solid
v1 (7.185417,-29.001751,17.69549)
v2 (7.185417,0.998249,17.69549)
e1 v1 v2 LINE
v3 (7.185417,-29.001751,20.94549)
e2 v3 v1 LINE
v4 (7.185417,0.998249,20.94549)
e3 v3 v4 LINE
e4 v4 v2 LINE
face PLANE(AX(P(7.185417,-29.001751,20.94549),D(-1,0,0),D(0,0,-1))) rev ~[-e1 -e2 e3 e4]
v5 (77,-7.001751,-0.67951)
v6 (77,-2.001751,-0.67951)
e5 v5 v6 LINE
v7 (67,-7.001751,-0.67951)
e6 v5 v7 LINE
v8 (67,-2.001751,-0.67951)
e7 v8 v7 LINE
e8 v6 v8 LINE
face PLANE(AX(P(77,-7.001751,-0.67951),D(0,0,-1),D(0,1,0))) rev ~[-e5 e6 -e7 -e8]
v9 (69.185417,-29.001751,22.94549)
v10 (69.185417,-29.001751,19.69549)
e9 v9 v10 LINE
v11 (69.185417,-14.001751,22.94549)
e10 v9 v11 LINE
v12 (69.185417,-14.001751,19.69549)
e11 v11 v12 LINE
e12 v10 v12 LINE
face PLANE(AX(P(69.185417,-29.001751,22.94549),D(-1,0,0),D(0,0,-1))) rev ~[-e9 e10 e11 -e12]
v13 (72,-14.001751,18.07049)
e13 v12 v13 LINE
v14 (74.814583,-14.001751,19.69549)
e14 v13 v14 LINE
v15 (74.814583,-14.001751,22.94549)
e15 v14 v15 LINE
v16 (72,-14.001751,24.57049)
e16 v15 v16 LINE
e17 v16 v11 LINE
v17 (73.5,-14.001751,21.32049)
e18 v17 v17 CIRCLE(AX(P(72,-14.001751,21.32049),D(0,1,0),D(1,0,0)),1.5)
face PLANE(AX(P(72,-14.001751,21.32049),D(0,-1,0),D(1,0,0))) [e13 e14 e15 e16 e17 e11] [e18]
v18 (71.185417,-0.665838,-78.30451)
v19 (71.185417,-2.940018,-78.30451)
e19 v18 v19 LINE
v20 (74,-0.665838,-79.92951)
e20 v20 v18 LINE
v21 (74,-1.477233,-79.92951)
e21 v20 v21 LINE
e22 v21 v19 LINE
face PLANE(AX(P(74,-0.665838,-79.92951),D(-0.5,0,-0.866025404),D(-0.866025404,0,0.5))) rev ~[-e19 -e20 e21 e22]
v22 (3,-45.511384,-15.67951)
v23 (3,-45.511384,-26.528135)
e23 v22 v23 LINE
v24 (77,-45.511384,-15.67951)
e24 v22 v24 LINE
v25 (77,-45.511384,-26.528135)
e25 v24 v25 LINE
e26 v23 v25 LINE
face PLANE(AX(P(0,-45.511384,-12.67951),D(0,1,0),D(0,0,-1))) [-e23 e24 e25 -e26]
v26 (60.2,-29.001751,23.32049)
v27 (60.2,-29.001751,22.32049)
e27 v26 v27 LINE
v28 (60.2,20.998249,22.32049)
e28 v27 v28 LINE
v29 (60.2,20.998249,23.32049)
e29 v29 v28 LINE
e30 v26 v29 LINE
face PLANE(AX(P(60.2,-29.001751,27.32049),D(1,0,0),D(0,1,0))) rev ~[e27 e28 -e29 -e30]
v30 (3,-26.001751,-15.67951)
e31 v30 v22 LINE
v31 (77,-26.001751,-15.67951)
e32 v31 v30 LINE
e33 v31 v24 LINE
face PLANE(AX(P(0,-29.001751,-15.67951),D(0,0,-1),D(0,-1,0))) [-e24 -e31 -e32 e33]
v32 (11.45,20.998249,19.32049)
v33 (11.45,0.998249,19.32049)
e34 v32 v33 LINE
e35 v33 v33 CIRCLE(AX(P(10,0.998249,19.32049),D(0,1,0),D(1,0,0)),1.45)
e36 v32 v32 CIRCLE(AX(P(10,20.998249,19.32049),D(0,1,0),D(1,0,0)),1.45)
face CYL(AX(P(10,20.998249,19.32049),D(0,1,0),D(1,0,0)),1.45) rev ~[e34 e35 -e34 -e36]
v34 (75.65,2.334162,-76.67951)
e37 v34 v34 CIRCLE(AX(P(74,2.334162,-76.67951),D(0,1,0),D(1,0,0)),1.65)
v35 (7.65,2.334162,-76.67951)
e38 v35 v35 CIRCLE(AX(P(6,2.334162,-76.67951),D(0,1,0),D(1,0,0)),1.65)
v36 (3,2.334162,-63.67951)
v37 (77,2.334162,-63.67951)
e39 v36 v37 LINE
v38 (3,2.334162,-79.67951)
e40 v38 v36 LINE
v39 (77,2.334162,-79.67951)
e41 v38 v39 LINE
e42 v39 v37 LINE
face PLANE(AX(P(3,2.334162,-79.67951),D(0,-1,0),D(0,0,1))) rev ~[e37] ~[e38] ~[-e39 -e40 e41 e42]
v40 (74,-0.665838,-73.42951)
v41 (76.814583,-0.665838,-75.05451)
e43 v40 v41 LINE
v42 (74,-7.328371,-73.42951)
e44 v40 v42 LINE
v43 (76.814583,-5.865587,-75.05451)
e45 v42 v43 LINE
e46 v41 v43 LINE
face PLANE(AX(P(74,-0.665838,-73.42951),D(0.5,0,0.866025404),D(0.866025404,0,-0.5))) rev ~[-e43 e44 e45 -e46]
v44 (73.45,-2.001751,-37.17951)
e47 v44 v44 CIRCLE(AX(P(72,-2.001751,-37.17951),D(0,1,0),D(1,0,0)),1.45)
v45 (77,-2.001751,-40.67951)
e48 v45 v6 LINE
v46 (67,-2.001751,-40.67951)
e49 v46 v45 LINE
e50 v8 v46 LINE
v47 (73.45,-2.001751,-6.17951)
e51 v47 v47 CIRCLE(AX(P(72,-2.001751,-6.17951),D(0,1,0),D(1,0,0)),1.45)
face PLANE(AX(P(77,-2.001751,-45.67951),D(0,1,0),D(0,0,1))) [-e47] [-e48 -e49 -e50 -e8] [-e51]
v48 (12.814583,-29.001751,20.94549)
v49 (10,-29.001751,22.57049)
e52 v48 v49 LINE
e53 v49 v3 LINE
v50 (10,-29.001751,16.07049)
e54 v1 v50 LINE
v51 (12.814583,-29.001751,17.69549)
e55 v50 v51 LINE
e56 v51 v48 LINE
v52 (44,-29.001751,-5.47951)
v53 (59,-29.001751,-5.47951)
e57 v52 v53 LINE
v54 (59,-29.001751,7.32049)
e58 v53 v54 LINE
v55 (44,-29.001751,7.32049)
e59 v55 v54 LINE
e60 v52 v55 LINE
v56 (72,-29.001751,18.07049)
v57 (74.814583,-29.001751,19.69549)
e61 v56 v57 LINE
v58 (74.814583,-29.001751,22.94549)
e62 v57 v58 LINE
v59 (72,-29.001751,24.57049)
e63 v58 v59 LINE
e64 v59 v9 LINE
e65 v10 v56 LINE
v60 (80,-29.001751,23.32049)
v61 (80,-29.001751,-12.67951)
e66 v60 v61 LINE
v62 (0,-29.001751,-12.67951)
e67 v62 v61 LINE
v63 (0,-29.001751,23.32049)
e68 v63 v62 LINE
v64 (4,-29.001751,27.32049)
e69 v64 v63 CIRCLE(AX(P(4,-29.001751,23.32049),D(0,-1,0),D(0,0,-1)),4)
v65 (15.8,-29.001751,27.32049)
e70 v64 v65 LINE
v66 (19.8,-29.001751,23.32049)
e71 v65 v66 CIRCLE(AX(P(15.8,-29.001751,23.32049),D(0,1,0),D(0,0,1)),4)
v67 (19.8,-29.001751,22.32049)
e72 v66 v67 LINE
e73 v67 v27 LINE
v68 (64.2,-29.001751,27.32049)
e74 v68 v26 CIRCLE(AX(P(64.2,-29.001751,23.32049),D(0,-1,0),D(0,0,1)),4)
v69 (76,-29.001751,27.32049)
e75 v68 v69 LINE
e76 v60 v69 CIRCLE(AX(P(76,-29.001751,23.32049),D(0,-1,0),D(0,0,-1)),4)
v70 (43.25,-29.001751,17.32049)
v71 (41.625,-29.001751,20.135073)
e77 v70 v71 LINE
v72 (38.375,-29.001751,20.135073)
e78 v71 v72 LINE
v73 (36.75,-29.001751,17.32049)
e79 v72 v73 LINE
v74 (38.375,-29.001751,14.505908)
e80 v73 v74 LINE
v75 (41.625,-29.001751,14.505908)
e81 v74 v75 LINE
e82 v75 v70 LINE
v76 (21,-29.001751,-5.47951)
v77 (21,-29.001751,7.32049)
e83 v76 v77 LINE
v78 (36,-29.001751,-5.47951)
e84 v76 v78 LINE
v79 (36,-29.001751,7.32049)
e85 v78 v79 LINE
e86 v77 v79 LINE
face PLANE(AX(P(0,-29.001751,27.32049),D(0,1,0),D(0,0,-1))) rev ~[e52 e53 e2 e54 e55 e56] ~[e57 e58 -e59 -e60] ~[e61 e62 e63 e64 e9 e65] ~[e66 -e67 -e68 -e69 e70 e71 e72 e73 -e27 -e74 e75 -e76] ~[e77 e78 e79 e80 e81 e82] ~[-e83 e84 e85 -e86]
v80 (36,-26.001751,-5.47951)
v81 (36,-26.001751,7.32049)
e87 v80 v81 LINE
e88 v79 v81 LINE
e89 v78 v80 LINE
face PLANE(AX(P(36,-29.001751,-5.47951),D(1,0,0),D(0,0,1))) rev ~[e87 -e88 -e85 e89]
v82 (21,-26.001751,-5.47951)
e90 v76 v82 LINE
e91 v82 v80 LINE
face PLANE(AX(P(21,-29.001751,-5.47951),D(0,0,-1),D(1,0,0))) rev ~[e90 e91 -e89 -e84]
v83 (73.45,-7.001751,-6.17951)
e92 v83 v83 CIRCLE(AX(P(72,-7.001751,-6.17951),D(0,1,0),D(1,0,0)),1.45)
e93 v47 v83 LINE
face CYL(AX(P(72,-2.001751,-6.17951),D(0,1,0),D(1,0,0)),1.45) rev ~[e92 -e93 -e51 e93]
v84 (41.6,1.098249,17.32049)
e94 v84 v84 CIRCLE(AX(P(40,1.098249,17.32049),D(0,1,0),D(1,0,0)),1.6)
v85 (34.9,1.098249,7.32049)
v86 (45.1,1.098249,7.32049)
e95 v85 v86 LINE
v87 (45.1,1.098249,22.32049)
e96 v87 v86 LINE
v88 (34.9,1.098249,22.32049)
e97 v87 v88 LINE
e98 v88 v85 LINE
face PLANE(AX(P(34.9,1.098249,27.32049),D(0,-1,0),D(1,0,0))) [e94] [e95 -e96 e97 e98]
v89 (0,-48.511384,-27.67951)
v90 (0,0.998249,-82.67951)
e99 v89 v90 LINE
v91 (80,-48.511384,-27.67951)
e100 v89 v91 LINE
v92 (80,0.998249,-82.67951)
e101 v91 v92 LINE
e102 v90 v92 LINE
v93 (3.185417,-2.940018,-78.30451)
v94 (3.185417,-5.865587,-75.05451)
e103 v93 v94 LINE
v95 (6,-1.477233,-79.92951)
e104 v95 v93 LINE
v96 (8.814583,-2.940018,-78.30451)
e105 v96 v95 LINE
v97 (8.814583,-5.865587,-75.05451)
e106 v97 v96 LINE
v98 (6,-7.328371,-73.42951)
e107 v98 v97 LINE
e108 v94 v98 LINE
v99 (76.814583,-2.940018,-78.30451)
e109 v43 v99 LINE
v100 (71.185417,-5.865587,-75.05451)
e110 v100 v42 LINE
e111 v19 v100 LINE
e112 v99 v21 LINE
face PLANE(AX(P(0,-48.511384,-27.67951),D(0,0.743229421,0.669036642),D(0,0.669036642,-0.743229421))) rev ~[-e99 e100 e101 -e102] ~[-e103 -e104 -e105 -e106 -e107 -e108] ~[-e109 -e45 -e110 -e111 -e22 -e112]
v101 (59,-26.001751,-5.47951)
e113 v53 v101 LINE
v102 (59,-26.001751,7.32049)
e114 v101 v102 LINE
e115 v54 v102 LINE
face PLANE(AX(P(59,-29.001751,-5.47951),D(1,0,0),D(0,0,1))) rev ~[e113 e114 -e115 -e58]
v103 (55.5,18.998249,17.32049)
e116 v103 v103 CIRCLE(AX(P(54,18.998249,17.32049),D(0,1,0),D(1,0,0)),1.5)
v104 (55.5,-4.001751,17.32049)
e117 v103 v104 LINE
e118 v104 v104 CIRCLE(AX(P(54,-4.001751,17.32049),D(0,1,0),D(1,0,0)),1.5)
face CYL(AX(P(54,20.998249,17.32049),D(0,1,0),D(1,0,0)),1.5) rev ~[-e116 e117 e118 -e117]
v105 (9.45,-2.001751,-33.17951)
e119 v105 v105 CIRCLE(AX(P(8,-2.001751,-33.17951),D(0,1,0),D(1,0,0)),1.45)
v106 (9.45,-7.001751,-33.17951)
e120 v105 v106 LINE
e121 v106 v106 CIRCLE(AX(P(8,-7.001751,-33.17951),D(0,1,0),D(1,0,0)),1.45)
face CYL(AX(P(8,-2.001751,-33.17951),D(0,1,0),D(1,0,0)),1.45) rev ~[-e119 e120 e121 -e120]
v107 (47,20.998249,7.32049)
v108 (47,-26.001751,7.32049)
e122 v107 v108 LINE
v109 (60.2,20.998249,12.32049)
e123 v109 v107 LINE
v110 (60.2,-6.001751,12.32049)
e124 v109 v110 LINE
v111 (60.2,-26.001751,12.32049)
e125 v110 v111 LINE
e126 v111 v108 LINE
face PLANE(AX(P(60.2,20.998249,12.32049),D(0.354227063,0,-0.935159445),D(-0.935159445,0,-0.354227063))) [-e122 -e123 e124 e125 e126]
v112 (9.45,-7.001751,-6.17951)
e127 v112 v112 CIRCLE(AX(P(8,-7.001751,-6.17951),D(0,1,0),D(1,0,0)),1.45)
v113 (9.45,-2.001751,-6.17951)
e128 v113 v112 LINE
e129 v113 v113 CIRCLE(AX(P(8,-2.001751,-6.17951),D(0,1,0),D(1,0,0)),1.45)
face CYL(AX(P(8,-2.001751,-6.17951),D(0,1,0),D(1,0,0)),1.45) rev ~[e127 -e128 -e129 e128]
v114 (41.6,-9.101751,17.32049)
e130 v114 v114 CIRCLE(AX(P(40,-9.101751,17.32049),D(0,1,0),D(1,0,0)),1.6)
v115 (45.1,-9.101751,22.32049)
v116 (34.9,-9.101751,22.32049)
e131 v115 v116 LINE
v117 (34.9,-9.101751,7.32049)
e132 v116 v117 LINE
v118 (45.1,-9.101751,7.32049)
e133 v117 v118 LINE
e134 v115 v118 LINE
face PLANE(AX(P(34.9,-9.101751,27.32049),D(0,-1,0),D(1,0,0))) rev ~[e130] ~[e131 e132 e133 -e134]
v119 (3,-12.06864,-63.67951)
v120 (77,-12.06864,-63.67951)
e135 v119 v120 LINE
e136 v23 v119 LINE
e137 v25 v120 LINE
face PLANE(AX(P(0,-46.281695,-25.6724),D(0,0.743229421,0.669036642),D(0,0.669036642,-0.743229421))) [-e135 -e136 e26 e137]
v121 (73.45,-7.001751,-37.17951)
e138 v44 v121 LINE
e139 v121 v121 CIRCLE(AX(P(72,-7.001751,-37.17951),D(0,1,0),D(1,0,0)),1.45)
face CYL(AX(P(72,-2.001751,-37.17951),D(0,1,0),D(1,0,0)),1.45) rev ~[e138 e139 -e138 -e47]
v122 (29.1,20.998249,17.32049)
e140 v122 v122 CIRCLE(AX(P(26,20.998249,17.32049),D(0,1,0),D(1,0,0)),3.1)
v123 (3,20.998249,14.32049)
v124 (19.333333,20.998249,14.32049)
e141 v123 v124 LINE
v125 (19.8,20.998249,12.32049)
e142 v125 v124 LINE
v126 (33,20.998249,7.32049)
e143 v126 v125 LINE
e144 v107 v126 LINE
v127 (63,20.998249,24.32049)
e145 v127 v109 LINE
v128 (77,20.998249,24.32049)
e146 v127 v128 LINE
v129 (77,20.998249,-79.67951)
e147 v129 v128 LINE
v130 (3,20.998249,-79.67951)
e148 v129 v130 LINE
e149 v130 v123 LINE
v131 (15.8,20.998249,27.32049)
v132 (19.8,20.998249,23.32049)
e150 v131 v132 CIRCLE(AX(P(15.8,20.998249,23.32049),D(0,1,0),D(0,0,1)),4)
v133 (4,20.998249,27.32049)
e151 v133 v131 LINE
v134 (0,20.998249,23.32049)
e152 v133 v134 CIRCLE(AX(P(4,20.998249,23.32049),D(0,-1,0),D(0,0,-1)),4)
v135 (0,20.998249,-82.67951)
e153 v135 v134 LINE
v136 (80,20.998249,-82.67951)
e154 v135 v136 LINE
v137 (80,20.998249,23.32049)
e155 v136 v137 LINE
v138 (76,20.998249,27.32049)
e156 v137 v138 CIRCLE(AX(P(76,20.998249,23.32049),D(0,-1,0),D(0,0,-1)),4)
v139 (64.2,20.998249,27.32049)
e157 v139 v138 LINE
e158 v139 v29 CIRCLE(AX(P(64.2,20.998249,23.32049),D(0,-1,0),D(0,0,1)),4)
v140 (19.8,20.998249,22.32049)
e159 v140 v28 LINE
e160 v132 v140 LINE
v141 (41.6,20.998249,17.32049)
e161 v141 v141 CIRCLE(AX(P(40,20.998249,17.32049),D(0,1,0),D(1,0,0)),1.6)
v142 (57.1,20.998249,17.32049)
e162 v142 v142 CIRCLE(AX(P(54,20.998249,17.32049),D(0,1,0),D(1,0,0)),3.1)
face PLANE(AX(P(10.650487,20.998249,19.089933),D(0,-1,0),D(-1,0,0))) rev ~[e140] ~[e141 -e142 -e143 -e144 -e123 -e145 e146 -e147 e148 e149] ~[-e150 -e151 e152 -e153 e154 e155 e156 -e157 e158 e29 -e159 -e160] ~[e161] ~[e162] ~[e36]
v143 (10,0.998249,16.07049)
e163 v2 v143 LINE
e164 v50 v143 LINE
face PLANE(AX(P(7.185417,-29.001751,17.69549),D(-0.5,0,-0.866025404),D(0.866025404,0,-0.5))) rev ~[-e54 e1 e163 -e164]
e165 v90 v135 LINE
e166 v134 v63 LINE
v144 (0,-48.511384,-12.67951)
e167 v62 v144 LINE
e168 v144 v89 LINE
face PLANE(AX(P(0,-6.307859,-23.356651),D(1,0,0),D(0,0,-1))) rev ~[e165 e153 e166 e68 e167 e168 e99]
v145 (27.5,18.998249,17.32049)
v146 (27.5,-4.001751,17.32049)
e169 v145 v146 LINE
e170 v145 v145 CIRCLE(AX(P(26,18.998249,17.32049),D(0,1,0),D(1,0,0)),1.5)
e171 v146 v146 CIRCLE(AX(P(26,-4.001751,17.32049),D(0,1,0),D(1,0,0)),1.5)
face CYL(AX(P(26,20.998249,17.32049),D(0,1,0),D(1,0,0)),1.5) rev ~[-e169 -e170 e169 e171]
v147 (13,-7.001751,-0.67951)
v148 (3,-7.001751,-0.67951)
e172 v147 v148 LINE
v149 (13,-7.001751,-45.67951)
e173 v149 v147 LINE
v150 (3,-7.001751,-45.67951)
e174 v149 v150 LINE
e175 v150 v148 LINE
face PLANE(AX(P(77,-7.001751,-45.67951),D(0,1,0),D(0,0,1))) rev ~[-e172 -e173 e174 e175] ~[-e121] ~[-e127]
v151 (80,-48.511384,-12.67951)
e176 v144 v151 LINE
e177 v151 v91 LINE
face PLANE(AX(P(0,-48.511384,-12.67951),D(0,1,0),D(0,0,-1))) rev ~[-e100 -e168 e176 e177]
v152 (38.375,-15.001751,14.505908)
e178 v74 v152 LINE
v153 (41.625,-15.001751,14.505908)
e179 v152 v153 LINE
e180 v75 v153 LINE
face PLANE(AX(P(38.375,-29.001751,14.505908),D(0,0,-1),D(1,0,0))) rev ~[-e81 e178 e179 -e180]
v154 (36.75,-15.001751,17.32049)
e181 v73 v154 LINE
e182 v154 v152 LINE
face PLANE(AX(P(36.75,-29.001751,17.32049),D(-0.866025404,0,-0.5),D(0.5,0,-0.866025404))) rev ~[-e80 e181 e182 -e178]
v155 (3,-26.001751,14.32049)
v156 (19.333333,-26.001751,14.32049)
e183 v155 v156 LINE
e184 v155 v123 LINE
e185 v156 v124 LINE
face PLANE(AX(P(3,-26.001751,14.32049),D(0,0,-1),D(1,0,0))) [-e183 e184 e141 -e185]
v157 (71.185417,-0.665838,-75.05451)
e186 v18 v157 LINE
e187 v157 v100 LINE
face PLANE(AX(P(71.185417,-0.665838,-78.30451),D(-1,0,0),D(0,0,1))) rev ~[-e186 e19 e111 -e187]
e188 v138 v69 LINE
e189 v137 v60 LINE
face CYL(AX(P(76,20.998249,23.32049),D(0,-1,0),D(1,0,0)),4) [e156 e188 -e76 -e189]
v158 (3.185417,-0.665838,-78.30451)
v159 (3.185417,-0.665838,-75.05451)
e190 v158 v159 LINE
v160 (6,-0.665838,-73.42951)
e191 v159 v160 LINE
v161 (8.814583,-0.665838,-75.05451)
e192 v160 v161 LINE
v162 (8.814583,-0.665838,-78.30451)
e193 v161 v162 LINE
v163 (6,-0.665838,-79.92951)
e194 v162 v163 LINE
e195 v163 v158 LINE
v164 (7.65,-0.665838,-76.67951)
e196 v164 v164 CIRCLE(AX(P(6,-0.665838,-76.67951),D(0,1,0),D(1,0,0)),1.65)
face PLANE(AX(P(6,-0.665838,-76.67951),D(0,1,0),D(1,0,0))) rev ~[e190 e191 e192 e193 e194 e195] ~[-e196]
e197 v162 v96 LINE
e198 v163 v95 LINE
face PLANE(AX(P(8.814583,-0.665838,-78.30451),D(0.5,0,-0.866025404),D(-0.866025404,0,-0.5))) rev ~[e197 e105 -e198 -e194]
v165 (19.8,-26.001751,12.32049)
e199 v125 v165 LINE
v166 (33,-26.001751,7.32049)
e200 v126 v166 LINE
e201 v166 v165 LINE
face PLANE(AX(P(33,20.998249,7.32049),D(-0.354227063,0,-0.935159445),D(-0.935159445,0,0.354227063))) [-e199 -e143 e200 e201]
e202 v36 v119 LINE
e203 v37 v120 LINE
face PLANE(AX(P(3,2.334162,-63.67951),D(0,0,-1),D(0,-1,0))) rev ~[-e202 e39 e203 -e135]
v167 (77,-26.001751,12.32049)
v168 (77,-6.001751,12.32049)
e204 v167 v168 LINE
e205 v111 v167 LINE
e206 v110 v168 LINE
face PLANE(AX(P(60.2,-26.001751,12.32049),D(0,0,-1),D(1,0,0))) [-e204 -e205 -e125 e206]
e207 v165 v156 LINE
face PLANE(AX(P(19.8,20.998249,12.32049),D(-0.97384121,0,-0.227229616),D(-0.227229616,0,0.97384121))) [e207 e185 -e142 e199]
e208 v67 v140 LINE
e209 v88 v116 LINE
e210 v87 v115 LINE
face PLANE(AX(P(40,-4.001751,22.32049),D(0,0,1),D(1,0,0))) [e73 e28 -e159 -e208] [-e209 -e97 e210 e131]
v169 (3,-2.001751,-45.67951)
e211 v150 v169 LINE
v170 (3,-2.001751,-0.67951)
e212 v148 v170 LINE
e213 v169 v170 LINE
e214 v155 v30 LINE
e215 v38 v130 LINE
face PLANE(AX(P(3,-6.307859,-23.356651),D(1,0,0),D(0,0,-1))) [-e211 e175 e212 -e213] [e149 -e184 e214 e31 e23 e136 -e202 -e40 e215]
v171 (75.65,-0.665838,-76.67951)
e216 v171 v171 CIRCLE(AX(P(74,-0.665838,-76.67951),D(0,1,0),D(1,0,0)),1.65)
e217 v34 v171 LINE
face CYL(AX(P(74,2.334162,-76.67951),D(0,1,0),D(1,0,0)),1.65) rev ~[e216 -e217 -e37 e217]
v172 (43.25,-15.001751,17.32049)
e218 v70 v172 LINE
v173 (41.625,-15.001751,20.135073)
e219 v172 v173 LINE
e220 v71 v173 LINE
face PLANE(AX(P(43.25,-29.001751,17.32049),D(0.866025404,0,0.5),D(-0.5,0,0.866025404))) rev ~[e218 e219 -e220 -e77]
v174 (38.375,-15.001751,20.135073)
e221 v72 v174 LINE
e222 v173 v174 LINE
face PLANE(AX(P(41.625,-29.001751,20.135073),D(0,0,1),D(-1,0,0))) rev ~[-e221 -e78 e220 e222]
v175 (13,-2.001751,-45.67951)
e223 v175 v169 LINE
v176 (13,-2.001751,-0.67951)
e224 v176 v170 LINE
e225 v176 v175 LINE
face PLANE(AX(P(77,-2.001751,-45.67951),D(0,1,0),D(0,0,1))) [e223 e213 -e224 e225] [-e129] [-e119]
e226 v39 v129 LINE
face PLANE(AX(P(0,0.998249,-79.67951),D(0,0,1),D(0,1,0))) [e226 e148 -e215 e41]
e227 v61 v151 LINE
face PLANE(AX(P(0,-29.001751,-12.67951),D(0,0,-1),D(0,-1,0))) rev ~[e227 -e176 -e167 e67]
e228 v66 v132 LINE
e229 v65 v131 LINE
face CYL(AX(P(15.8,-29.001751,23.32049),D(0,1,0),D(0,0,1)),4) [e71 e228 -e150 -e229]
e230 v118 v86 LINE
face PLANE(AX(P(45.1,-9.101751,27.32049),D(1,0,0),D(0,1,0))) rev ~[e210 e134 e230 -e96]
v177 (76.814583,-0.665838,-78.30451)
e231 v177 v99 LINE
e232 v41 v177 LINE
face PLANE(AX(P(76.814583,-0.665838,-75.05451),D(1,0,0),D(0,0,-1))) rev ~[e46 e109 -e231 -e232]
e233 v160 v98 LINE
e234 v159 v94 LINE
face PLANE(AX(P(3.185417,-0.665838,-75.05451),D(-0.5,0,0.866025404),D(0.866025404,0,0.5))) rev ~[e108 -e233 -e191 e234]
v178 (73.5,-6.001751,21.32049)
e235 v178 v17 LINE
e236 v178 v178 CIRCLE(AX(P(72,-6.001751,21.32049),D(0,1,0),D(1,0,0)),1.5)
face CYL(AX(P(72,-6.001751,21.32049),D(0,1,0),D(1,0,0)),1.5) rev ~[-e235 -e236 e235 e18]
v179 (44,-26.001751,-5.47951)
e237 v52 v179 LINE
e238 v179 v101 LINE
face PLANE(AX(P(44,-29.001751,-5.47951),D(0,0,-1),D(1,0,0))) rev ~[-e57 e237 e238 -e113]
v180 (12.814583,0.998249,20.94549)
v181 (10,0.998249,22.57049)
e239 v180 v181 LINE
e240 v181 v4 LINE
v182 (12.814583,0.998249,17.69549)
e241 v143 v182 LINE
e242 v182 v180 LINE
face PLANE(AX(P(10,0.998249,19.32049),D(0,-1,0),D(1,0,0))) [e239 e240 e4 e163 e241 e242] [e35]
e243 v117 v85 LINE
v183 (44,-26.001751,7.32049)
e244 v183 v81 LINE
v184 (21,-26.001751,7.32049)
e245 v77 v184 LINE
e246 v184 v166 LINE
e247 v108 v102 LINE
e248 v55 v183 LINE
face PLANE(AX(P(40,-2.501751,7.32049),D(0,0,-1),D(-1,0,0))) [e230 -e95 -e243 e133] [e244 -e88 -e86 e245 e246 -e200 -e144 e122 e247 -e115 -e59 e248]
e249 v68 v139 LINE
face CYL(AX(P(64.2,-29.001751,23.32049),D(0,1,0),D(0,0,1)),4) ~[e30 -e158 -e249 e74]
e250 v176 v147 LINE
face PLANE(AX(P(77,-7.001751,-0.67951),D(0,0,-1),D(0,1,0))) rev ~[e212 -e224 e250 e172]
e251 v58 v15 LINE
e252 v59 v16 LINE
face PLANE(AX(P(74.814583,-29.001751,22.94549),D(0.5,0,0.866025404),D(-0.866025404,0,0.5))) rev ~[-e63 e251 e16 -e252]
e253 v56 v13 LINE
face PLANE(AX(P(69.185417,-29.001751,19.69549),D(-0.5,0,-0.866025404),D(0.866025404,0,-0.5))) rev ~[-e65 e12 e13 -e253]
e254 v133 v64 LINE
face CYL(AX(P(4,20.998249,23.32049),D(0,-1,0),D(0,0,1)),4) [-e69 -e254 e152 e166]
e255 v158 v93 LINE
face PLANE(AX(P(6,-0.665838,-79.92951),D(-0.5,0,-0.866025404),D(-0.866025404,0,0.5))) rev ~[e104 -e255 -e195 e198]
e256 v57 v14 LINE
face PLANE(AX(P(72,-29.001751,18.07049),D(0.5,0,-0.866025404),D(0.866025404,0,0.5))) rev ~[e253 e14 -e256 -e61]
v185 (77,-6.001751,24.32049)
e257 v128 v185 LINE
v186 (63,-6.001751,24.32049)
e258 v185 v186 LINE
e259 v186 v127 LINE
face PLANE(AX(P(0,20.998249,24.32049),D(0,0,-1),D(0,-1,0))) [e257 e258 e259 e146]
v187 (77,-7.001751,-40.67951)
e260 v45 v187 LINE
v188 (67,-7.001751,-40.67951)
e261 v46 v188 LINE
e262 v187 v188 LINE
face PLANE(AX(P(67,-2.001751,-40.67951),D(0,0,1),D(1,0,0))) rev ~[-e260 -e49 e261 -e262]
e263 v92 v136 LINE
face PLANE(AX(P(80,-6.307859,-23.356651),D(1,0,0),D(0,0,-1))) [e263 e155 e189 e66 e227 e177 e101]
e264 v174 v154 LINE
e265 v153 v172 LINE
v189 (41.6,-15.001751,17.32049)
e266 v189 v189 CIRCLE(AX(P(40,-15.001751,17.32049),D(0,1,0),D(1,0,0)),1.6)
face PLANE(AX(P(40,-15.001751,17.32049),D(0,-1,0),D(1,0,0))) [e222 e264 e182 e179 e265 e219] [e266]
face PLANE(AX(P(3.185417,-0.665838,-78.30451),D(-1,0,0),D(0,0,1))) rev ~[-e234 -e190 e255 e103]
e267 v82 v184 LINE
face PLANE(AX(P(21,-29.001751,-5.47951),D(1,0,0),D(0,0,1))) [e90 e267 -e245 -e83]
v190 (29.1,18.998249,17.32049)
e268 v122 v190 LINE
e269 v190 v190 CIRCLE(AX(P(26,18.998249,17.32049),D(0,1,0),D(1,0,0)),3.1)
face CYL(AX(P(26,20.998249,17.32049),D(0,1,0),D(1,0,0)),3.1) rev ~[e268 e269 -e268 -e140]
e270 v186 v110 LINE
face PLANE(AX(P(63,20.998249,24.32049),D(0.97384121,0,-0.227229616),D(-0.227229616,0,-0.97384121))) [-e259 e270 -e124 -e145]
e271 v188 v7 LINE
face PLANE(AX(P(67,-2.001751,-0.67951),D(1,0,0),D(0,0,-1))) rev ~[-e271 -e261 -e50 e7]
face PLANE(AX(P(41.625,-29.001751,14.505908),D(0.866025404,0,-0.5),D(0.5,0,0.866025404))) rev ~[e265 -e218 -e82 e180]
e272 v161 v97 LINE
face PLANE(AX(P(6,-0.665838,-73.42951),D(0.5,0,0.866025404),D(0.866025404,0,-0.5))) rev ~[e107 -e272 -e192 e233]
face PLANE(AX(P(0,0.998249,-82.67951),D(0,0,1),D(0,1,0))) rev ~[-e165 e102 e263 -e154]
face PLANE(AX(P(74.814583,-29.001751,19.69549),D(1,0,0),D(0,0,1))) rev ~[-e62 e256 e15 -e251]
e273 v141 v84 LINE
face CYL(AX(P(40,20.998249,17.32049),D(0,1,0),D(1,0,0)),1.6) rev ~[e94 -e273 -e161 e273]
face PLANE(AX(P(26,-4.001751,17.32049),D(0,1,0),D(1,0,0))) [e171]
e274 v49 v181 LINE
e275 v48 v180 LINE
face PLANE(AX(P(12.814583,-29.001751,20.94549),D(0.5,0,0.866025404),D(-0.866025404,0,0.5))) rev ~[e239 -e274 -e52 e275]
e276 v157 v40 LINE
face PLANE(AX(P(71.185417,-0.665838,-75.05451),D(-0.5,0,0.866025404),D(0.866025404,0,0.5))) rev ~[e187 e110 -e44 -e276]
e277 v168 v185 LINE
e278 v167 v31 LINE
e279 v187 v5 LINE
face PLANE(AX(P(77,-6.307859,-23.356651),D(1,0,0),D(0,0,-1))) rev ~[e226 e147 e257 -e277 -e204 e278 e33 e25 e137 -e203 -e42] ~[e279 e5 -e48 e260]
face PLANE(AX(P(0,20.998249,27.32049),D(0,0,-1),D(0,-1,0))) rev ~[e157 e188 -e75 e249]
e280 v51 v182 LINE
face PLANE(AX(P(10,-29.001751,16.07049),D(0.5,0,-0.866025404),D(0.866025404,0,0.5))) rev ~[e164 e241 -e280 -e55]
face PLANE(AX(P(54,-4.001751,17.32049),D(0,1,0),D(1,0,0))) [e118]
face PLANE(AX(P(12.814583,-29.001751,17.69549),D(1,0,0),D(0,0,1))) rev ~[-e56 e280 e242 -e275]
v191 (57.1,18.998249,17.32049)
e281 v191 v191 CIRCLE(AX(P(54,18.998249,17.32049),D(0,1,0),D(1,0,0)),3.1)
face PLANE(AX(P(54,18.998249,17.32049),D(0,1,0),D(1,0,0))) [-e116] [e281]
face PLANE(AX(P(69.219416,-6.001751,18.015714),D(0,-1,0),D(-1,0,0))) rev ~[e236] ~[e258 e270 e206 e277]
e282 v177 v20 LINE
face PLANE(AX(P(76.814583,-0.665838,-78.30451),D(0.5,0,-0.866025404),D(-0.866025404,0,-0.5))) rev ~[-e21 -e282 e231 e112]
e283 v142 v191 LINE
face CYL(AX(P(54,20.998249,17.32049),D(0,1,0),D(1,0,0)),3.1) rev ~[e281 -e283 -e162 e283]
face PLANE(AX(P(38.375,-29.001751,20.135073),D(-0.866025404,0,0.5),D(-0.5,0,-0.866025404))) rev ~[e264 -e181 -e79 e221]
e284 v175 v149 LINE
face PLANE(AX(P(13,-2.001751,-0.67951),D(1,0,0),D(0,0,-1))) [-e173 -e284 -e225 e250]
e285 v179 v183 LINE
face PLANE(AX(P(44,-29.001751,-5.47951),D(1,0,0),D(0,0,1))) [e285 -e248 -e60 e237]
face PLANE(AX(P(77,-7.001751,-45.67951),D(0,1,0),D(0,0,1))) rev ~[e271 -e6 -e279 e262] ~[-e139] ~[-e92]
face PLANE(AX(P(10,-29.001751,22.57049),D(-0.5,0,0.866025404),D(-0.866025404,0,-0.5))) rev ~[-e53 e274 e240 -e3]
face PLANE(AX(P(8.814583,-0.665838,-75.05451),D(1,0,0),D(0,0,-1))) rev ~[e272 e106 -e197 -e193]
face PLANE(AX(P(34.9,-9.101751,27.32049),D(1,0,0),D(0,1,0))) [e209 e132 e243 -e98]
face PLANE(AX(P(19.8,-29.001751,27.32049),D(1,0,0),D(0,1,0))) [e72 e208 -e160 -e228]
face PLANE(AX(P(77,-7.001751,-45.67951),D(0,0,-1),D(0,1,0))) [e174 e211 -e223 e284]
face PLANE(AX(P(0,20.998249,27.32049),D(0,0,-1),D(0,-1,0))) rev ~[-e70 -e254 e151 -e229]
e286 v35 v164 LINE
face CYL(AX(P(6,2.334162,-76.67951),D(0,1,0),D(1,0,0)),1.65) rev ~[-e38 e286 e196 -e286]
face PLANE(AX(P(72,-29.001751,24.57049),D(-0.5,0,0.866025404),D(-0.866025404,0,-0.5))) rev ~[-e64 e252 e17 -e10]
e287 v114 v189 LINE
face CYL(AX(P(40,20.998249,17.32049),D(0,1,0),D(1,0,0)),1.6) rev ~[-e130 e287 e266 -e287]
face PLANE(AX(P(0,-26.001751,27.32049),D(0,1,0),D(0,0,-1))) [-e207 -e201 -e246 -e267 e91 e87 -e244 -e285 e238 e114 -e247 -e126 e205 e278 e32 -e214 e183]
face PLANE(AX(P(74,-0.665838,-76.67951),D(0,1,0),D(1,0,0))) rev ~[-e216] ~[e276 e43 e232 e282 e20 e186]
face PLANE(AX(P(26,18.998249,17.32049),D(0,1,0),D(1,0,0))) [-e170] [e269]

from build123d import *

# Parameters (mm, degrees)
BOSS_EXTRUDE1_DEPTH = 80
SHELL1_T            = -3
SKETCH3_W           = 46
SKETCH3_H           = 47
BOSS_EXTRUDE2_DEPTH = 17
SKETCH4_W           = 10.2
SKETCH4_H           = 10.2
CUT_EXTRUDE1_DEPTH  = 20
SKETCH6_W           = 15
SKETCH6_H           = 12.8
CUT_EXTRUDE2_DEPTH  = 3
SKETCH7_W           = 40.4
SKETCH7_H           = 50
CUT_EXTRUDE3_DEPTH  = 5
FILLET1_R           = 4
CUT_EXTRUDE7_DEPTH  = 47
SKETCH13_R          = 1.5
CUT_EXTRUDE8_DEPTH  = 25
SKETCH14_R          = 3.1
CUT_EXTRUDE9_DEPTH  = 2
SKETCH17_W          = 45
SKETCH17_H          = 5
BOSS_EXTRUDE5_DEPTH = 74
CUT_EXTRUDE10_REACH = 48.51
SKETCH18_W          = 54
SKETCH18_H          = 45
CUT_EXTRUDE11_REACH = 48.51
SKETCH19_R          = 1.45
BOSS_EXTRUDE6_DEPTH = 47
SKETCH22_R          = 1.45
CUT_EXTRUDE12_DEPTH = 70.509632224
BOSS_EXTRUDE7_DEPTH = 74
SKETCH27_R          = 1.65
CUT_EXTRUDE14_DEPTH = 10
CUT_EXTRUDE15_START = -3
CUT_EXTRUDE15_DEPTH = 32
CUT_EXTRUDE16_DEPTH = 30
BOSS_EXTRUDE8_DEPTH = 20
SKETCH31_R          = 1.5
CUT_EXTRUDE17_DEPTH = 43.509632224
CUT_EXTRUDE18_DEPTH = 15
CUT_EXTRUDE19_REACH = 48.51
SKETCH33_W          = 10
SKETCH33_H          = 5
SKETCH34_R          = 1.6
CUT_EXTRUDE20_DEPTH = 70.509632224
CUT_EXTRUDE22_DEPTH = 14


with BuildPart() as part:
    # Sketch2 → Boss-Extrude1 (new body)
    with BuildSketch(Plane(origin=(0, 0, 0), x_dir=(0, 0, -1), z_dir=(1, 0, 0))):
        Polygon((-27.320490368, 20.998248687), (-27.320490368, -29.001751313), (12.679509632, -29.001751313), (12.679509632, -48.511383538), (27.679509632, -48.511383538), (82.679509632, 0.998248687), (82.679509632, 20.998248687), align=None)
    extrude(amount=BOSS_EXTRUDE1_DEPTH)

    # Shell1
    shell1_openings = [part.faces().sort_by_distance(p)[0] for p in [
        (40, 20.998248687, -27.679509632),
    ]]
    offset(amount=SHELL1_T, openings=shell1_openings, kind=Kind.INTERSECTION)

    # Sketch3 → Boss-Extrude2 (add)
    with BuildSketch(Plane(origin=(0, 0, 24.320490368), x_dir=(-1, 0, 0), z_dir=(0, 0, -1))):
        with Locations((-40, -2.501751313)):
            Rectangle(SKETCH3_W, SKETCH3_H)
    extrude(amount=BOSS_EXTRUDE2_DEPTH)

    # Sketch4 → Cut-Extrude1 (cut)
    with BuildSketch(Plane.XY.offset(27.320490368)):
        with Locations((40, -4.001751313)):
            Rectangle(SKETCH4_W, SKETCH4_H)
    extrude(amount=-CUT_EXTRUDE1_DEPTH, mode=Mode.SUBTRACT)

    # Sketch6 → Cut-Extrude2 (cut)
    with BuildSketch(Plane.XZ.offset(29.001751313)):
        with Locations((51.5, 0.920490368)):
            Rectangle(SKETCH6_W, SKETCH6_H)
        with Locations((28.5, 0.920490368)):
            Rectangle(SKETCH6_W, SKETCH6_H)
    extrude(amount=-CUT_EXTRUDE2_DEPTH, mode=Mode.SUBTRACT)

    # Sketch7 → Cut-Extrude3 (cut)
    with BuildSketch(Plane.XY.offset(27.320490368)):
        with Locations((40, -4.001751313)):
            Rectangle(SKETCH7_W, SKETCH7_H)
    extrude(amount=-CUT_EXTRUDE3_DEPTH, mode=Mode.SUBTRACT)

    # Fillet1
    fillet1_edges = [part.edges().sort_by_distance(p)[0] for p in [
        (19.8, -4.001751313, 27.320490368),
        (60.2, -4.001751313, 27.320490368),
        (80, -4.001751313, 27.320490368),
        (0, -4.001751313, 27.320490368),
    ]]
    fillet(fillet1_edges, radius=FILLET1_R)

    # Sketch12 → Cut-Extrude7 (cut)
    with BuildSketch(Plane(origin=(0, 20.998248687, 0), x_dir=(1, 0, 0), z_dir=(0, 1, 0))):
        Polygon((33, -7.320490368), (19.8, -12.320490368), (17, -24.320490368), (17, -7.320490368), align=None)
        Polygon((47, -7.320490368), (63, -7.320490368), (63, -24.320490368), (60.2, -12.320490368), align=None)
    extrude(amount=-CUT_EXTRUDE7_DEPTH, mode=Mode.SUBTRACT)

    # Sketch13 → Cut-Extrude8 (cut)
    with BuildSketch(Plane(origin=(0, 20.998248687, 0), x_dir=(1, 0, 0), z_dir=(0, 1, 0))):
        with Locations((26, -17.320490368)):
            Circle(SKETCH13_R)
        with Locations((54, -17.320490368)):
            Circle(SKETCH13_R)
    extrude(amount=-CUT_EXTRUDE8_DEPTH, mode=Mode.SUBTRACT)

    # Sketch14 → Cut-Extrude9 (cut)
    with BuildSketch(Plane(origin=(0, 20.998248687, 0), x_dir=(1, 0, 0), z_dir=(0, 1, 0))):
        with Locations((26, -17.320490368)):
            Circle(SKETCH14_R)
        with Locations((54, -17.320490368)):
            Circle(SKETCH14_R)
    extrude(amount=-CUT_EXTRUDE9_DEPTH, mode=Mode.SUBTRACT)

    # Sketch17 → Boss-Extrude5 (add)
    with BuildSketch(Plane.ZY.offset(-77)):
        with Locations((-23.179509632, -4.501751313)):
            Rectangle(SKETCH17_W, SKETCH17_H)
    extrude(amount=BOSS_EXTRUDE5_DEPTH)

    # Sketch18 → Cut-Extrude10 (cut, up to next)
    with BuildSketch(Plane(origin=(0, -2.001751313, 0), x_dir=(1, 0, 0), z_dir=(0, 1, 0)), mode=Mode.PRIVATE) as cut_extrude10_sk1:
        with Locations((40, 23.179509632)):
            Rectangle(SKETCH18_W, SKETCH18_H)
    cut_extrude10_tool1 = extrude(cut_extrude10_sk1.sketch, amount=-CUT_EXTRUDE10_REACH, mode=Mode.PRIVATE) & part.part
    add(cut_extrude10_tool1.solids().sort_by_distance((40, -2.001751, -23.17951))[0], mode=Mode.SUBTRACT)

    # Sketch19 → Cut-Extrude11 (cut, up to next)
    with BuildSketch(Plane(origin=(0, -2.001751313, 0), x_dir=(1, 0, 0), z_dir=(0, 1, 0)), mode=Mode.PRIVATE) as cut_extrude11_sk1:
        with Locations((72, 37.179509632)):
            Circle(SKETCH19_R)
    cut_extrude11_tool1 = extrude(cut_extrude11_sk1.sketch, amount=-CUT_EXTRUDE11_REACH, mode=Mode.PRIVATE) & part.part
    add(cut_extrude11_tool1.solids().sort_by_distance((72, -2.001751, -37.17951))[0], mode=Mode.SUBTRACT)
    # Sketch19 → Cut-Extrude11 (cut, up to next)
    with BuildSketch(Plane(origin=(0, -2.001751313, 0), x_dir=(1, 0, 0), z_dir=(0, 1, 0)), mode=Mode.PRIVATE) as cut_extrude11_sk2:
        with Locations((72, 6.179509632)):
            Circle(SKETCH19_R)
    cut_extrude11_tool2 = extrude(cut_extrude11_sk2.sketch, amount=-CUT_EXTRUDE11_REACH, mode=Mode.PRIVATE) & part.part
    add(cut_extrude11_tool2.solids().sort_by_distance((72, -2.001751, -6.17951))[0], mode=Mode.SUBTRACT)
    # Sketch19 → Cut-Extrude11 (cut, up to next)
    with BuildSketch(Plane(origin=(0, -2.001751313, 0), x_dir=(1, 0, 0), z_dir=(0, 1, 0)), mode=Mode.PRIVATE) as cut_extrude11_sk3:
        with Locations((8, 33.179509632)):
            Circle(SKETCH19_R)
    cut_extrude11_tool3 = extrude(cut_extrude11_sk3.sketch, amount=-CUT_EXTRUDE11_REACH, mode=Mode.PRIVATE) & part.part
    add(cut_extrude11_tool3.solids().sort_by_distance((8, -2.001751, -33.17951))[0], mode=Mode.SUBTRACT)
    # Sketch19 → Cut-Extrude11 (cut, up to next)
    with BuildSketch(Plane(origin=(0, -2.001751313, 0), x_dir=(1, 0, 0), z_dir=(0, 1, 0)), mode=Mode.PRIVATE) as cut_extrude11_sk4:
        with Locations((8, 6.179509632)):
            Circle(SKETCH19_R)
    cut_extrude11_tool4 = extrude(cut_extrude11_sk4.sketch, amount=-CUT_EXTRUDE11_REACH, mode=Mode.PRIVATE) & part.part
    add(cut_extrude11_tool4.solids().sort_by_distance((8, -2.001751, -6.17951))[0], mode=Mode.SUBTRACT)

    # Sketch21 → Boss-Extrude6 (add)
    with BuildSketch(Plane(origin=(0, -26.001751313, 0), x_dir=(1, 0, 0), z_dir=(0, 1, 0))):
        Polygon((3, -24.320490368), (3, -14.320490368), (19.333333333, -14.320490368), (17, -24.320490368), align=None)
    extrude(amount=BOSS_EXTRUDE6_DEPTH)

    # Sketch22 → Cut-Extrude12 (cut, through all)
    with BuildSketch(Plane(origin=(0, 20.998248687, 0), x_dir=(1, 0, 0), z_dir=(0, 1, 0))):
        with Locations((10, -19.320490368)):
            Circle(SKETCH22_R)
    extrude(amount=-CUT_EXTRUDE12_DEPTH, mode=Mode.SUBTRACT)

    # Sketch26 → Boss-Extrude7 (add)
    with BuildSketch(Plane(origin=(3, 0, 0), x_dir=(0, 0, -1), z_dir=(1, 0, 0))):
        Polygon((79.679509632, 2.334161996), (63.679509632, 2.334161996), (63.679509632, -12.068640106), align=None)
    extrude(amount=BOSS_EXTRUDE7_DEPTH)

    # Sketch27 → Cut-Extrude14 (cut)
    with BuildSketch(Plane(origin=(0, 2.334161996, 0), x_dir=(1, 0, 0), z_dir=(0, 1, 0))):
        with Locations((6, 76.679509632)):
            Circle(SKETCH27_R)
        with Locations((74, 76.679509632)):
            Circle(SKETCH27_R)
    extrude(amount=-CUT_EXTRUDE14_DEPTH, mode=Mode.SUBTRACT)

    # Sketch28 → Cut-Extrude15 (cut)
    with BuildSketch(Plane(origin=(0, 2.334161996, 0), x_dir=(1, 0, 0), z_dir=(0, 1, 0)).offset(CUT_EXTRUDE15_START)):
        Polygon((74, 79.929509632), (71.185417438, 78.304509632), (71.185417438, 75.054509632), (74, 73.429509632), (76.814582562, 75.054509632), (76.814582562, 78.304509632), align=None)
        Polygon((6, 73.429509632), (8.814582562, 75.054509632), (8.814582562, 78.304509632), (6, 79.929509632), (3.185417438, 78.304509632), (3.185417438, 75.054509632), align=None)
    extrude(amount=-CUT_EXTRUDE15_DEPTH, mode=Mode.SUBTRACT)

    # Sketch29 → Cut-Extrude16 (cut)
    with BuildSketch(Plane.XZ.offset(29.001751313)):
        Polygon((7.185417438, 17.695490368), (10, 16.070490368), (12.814582562, 17.695490368), (12.814582562, 20.945490368), (10, 22.570490368), (7.185417438, 20.945490368), align=None)
    extrude(amount=-CUT_EXTRUDE16_DEPTH, mode=Mode.SUBTRACT)

    # Sketch30 → Boss-Extrude8 (add)
    with BuildSketch(Plane(origin=(0, -26.001751313, 0), x_dir=(1, 0, 0), z_dir=(0, 1, 0))):
        Polygon((77, -24.320490368), (63, -24.320490368), (60.2, -12.320490368), (77, -12.320490368), align=None)
    extrude(amount=BOSS_EXTRUDE8_DEPTH)

    # Sketch31 → Cut-Extrude17 (cut, through all)
    with BuildSketch(Plane(origin=(0, -6.001751313, 0), x_dir=(1, 0, 0), z_dir=(0, 1, 0))):
        with Locations((72, -21.320490368)):
            Circle(SKETCH31_R)
    extrude(amount=-CUT_EXTRUDE17_DEPTH, mode=Mode.SUBTRACT)

    # Sketch32 → Cut-Extrude18 (cut)
    with BuildSketch(Plane.XZ.offset(29.001751313)):
        Polygon((72, 24.570490368), (69.185417438, 22.945490368), (69.185417438, 19.695490368), (72, 18.070490368), (74.814582562, 19.695490368), (74.814582562, 22.945490368), align=None)
    extrude(amount=-CUT_EXTRUDE18_DEPTH, mode=Mode.SUBTRACT)

    # Sketch33 → Cut-Extrude19 (cut, up to next)
    with BuildSketch(Plane(origin=(0, -2.001751313, 0), x_dir=(1, 0, 0), z_dir=(0, 1, 0)), mode=Mode.PRIVATE) as cut_extrude19_sk1:
        with Locations((72, 43.179509632)):
            Rectangle(SKETCH33_W, SKETCH33_H)
    cut_extrude19_tool1 = extrude(cut_extrude19_sk1.sketch, amount=-CUT_EXTRUDE19_REACH, mode=Mode.PRIVATE) & part.part
    add(cut_extrude19_tool1.solids().sort_by_distance((72, -2.001751, -43.17951))[0], mode=Mode.SUBTRACT)

    # Sketch34 → Cut-Extrude20 (cut, through all)
    with BuildSketch(Plane(origin=(0, 20.998248687, 0), x_dir=(1, 0, 0), z_dir=(0, 1, 0))):
        with Locations((40, -17.320490368)):
            Circle(SKETCH34_R)
    extrude(amount=-CUT_EXTRUDE20_DEPTH, mode=Mode.SUBTRACT)

    # Sketch36 → Cut-Extrude22 (cut)
    with BuildSketch(Plane.XZ.offset(29.001751313)):
        Polygon((38.375, 20.13507293), (36.75, 17.320490368), (38.375, 14.505907805), (41.625, 14.505907805), (43.25, 17.320490368), (41.625, 20.13507293), align=None)
    extrude(amount=-CUT_EXTRUDE22_DEPTH, mode=Mode.SUBTRACT)


solid = part.part
